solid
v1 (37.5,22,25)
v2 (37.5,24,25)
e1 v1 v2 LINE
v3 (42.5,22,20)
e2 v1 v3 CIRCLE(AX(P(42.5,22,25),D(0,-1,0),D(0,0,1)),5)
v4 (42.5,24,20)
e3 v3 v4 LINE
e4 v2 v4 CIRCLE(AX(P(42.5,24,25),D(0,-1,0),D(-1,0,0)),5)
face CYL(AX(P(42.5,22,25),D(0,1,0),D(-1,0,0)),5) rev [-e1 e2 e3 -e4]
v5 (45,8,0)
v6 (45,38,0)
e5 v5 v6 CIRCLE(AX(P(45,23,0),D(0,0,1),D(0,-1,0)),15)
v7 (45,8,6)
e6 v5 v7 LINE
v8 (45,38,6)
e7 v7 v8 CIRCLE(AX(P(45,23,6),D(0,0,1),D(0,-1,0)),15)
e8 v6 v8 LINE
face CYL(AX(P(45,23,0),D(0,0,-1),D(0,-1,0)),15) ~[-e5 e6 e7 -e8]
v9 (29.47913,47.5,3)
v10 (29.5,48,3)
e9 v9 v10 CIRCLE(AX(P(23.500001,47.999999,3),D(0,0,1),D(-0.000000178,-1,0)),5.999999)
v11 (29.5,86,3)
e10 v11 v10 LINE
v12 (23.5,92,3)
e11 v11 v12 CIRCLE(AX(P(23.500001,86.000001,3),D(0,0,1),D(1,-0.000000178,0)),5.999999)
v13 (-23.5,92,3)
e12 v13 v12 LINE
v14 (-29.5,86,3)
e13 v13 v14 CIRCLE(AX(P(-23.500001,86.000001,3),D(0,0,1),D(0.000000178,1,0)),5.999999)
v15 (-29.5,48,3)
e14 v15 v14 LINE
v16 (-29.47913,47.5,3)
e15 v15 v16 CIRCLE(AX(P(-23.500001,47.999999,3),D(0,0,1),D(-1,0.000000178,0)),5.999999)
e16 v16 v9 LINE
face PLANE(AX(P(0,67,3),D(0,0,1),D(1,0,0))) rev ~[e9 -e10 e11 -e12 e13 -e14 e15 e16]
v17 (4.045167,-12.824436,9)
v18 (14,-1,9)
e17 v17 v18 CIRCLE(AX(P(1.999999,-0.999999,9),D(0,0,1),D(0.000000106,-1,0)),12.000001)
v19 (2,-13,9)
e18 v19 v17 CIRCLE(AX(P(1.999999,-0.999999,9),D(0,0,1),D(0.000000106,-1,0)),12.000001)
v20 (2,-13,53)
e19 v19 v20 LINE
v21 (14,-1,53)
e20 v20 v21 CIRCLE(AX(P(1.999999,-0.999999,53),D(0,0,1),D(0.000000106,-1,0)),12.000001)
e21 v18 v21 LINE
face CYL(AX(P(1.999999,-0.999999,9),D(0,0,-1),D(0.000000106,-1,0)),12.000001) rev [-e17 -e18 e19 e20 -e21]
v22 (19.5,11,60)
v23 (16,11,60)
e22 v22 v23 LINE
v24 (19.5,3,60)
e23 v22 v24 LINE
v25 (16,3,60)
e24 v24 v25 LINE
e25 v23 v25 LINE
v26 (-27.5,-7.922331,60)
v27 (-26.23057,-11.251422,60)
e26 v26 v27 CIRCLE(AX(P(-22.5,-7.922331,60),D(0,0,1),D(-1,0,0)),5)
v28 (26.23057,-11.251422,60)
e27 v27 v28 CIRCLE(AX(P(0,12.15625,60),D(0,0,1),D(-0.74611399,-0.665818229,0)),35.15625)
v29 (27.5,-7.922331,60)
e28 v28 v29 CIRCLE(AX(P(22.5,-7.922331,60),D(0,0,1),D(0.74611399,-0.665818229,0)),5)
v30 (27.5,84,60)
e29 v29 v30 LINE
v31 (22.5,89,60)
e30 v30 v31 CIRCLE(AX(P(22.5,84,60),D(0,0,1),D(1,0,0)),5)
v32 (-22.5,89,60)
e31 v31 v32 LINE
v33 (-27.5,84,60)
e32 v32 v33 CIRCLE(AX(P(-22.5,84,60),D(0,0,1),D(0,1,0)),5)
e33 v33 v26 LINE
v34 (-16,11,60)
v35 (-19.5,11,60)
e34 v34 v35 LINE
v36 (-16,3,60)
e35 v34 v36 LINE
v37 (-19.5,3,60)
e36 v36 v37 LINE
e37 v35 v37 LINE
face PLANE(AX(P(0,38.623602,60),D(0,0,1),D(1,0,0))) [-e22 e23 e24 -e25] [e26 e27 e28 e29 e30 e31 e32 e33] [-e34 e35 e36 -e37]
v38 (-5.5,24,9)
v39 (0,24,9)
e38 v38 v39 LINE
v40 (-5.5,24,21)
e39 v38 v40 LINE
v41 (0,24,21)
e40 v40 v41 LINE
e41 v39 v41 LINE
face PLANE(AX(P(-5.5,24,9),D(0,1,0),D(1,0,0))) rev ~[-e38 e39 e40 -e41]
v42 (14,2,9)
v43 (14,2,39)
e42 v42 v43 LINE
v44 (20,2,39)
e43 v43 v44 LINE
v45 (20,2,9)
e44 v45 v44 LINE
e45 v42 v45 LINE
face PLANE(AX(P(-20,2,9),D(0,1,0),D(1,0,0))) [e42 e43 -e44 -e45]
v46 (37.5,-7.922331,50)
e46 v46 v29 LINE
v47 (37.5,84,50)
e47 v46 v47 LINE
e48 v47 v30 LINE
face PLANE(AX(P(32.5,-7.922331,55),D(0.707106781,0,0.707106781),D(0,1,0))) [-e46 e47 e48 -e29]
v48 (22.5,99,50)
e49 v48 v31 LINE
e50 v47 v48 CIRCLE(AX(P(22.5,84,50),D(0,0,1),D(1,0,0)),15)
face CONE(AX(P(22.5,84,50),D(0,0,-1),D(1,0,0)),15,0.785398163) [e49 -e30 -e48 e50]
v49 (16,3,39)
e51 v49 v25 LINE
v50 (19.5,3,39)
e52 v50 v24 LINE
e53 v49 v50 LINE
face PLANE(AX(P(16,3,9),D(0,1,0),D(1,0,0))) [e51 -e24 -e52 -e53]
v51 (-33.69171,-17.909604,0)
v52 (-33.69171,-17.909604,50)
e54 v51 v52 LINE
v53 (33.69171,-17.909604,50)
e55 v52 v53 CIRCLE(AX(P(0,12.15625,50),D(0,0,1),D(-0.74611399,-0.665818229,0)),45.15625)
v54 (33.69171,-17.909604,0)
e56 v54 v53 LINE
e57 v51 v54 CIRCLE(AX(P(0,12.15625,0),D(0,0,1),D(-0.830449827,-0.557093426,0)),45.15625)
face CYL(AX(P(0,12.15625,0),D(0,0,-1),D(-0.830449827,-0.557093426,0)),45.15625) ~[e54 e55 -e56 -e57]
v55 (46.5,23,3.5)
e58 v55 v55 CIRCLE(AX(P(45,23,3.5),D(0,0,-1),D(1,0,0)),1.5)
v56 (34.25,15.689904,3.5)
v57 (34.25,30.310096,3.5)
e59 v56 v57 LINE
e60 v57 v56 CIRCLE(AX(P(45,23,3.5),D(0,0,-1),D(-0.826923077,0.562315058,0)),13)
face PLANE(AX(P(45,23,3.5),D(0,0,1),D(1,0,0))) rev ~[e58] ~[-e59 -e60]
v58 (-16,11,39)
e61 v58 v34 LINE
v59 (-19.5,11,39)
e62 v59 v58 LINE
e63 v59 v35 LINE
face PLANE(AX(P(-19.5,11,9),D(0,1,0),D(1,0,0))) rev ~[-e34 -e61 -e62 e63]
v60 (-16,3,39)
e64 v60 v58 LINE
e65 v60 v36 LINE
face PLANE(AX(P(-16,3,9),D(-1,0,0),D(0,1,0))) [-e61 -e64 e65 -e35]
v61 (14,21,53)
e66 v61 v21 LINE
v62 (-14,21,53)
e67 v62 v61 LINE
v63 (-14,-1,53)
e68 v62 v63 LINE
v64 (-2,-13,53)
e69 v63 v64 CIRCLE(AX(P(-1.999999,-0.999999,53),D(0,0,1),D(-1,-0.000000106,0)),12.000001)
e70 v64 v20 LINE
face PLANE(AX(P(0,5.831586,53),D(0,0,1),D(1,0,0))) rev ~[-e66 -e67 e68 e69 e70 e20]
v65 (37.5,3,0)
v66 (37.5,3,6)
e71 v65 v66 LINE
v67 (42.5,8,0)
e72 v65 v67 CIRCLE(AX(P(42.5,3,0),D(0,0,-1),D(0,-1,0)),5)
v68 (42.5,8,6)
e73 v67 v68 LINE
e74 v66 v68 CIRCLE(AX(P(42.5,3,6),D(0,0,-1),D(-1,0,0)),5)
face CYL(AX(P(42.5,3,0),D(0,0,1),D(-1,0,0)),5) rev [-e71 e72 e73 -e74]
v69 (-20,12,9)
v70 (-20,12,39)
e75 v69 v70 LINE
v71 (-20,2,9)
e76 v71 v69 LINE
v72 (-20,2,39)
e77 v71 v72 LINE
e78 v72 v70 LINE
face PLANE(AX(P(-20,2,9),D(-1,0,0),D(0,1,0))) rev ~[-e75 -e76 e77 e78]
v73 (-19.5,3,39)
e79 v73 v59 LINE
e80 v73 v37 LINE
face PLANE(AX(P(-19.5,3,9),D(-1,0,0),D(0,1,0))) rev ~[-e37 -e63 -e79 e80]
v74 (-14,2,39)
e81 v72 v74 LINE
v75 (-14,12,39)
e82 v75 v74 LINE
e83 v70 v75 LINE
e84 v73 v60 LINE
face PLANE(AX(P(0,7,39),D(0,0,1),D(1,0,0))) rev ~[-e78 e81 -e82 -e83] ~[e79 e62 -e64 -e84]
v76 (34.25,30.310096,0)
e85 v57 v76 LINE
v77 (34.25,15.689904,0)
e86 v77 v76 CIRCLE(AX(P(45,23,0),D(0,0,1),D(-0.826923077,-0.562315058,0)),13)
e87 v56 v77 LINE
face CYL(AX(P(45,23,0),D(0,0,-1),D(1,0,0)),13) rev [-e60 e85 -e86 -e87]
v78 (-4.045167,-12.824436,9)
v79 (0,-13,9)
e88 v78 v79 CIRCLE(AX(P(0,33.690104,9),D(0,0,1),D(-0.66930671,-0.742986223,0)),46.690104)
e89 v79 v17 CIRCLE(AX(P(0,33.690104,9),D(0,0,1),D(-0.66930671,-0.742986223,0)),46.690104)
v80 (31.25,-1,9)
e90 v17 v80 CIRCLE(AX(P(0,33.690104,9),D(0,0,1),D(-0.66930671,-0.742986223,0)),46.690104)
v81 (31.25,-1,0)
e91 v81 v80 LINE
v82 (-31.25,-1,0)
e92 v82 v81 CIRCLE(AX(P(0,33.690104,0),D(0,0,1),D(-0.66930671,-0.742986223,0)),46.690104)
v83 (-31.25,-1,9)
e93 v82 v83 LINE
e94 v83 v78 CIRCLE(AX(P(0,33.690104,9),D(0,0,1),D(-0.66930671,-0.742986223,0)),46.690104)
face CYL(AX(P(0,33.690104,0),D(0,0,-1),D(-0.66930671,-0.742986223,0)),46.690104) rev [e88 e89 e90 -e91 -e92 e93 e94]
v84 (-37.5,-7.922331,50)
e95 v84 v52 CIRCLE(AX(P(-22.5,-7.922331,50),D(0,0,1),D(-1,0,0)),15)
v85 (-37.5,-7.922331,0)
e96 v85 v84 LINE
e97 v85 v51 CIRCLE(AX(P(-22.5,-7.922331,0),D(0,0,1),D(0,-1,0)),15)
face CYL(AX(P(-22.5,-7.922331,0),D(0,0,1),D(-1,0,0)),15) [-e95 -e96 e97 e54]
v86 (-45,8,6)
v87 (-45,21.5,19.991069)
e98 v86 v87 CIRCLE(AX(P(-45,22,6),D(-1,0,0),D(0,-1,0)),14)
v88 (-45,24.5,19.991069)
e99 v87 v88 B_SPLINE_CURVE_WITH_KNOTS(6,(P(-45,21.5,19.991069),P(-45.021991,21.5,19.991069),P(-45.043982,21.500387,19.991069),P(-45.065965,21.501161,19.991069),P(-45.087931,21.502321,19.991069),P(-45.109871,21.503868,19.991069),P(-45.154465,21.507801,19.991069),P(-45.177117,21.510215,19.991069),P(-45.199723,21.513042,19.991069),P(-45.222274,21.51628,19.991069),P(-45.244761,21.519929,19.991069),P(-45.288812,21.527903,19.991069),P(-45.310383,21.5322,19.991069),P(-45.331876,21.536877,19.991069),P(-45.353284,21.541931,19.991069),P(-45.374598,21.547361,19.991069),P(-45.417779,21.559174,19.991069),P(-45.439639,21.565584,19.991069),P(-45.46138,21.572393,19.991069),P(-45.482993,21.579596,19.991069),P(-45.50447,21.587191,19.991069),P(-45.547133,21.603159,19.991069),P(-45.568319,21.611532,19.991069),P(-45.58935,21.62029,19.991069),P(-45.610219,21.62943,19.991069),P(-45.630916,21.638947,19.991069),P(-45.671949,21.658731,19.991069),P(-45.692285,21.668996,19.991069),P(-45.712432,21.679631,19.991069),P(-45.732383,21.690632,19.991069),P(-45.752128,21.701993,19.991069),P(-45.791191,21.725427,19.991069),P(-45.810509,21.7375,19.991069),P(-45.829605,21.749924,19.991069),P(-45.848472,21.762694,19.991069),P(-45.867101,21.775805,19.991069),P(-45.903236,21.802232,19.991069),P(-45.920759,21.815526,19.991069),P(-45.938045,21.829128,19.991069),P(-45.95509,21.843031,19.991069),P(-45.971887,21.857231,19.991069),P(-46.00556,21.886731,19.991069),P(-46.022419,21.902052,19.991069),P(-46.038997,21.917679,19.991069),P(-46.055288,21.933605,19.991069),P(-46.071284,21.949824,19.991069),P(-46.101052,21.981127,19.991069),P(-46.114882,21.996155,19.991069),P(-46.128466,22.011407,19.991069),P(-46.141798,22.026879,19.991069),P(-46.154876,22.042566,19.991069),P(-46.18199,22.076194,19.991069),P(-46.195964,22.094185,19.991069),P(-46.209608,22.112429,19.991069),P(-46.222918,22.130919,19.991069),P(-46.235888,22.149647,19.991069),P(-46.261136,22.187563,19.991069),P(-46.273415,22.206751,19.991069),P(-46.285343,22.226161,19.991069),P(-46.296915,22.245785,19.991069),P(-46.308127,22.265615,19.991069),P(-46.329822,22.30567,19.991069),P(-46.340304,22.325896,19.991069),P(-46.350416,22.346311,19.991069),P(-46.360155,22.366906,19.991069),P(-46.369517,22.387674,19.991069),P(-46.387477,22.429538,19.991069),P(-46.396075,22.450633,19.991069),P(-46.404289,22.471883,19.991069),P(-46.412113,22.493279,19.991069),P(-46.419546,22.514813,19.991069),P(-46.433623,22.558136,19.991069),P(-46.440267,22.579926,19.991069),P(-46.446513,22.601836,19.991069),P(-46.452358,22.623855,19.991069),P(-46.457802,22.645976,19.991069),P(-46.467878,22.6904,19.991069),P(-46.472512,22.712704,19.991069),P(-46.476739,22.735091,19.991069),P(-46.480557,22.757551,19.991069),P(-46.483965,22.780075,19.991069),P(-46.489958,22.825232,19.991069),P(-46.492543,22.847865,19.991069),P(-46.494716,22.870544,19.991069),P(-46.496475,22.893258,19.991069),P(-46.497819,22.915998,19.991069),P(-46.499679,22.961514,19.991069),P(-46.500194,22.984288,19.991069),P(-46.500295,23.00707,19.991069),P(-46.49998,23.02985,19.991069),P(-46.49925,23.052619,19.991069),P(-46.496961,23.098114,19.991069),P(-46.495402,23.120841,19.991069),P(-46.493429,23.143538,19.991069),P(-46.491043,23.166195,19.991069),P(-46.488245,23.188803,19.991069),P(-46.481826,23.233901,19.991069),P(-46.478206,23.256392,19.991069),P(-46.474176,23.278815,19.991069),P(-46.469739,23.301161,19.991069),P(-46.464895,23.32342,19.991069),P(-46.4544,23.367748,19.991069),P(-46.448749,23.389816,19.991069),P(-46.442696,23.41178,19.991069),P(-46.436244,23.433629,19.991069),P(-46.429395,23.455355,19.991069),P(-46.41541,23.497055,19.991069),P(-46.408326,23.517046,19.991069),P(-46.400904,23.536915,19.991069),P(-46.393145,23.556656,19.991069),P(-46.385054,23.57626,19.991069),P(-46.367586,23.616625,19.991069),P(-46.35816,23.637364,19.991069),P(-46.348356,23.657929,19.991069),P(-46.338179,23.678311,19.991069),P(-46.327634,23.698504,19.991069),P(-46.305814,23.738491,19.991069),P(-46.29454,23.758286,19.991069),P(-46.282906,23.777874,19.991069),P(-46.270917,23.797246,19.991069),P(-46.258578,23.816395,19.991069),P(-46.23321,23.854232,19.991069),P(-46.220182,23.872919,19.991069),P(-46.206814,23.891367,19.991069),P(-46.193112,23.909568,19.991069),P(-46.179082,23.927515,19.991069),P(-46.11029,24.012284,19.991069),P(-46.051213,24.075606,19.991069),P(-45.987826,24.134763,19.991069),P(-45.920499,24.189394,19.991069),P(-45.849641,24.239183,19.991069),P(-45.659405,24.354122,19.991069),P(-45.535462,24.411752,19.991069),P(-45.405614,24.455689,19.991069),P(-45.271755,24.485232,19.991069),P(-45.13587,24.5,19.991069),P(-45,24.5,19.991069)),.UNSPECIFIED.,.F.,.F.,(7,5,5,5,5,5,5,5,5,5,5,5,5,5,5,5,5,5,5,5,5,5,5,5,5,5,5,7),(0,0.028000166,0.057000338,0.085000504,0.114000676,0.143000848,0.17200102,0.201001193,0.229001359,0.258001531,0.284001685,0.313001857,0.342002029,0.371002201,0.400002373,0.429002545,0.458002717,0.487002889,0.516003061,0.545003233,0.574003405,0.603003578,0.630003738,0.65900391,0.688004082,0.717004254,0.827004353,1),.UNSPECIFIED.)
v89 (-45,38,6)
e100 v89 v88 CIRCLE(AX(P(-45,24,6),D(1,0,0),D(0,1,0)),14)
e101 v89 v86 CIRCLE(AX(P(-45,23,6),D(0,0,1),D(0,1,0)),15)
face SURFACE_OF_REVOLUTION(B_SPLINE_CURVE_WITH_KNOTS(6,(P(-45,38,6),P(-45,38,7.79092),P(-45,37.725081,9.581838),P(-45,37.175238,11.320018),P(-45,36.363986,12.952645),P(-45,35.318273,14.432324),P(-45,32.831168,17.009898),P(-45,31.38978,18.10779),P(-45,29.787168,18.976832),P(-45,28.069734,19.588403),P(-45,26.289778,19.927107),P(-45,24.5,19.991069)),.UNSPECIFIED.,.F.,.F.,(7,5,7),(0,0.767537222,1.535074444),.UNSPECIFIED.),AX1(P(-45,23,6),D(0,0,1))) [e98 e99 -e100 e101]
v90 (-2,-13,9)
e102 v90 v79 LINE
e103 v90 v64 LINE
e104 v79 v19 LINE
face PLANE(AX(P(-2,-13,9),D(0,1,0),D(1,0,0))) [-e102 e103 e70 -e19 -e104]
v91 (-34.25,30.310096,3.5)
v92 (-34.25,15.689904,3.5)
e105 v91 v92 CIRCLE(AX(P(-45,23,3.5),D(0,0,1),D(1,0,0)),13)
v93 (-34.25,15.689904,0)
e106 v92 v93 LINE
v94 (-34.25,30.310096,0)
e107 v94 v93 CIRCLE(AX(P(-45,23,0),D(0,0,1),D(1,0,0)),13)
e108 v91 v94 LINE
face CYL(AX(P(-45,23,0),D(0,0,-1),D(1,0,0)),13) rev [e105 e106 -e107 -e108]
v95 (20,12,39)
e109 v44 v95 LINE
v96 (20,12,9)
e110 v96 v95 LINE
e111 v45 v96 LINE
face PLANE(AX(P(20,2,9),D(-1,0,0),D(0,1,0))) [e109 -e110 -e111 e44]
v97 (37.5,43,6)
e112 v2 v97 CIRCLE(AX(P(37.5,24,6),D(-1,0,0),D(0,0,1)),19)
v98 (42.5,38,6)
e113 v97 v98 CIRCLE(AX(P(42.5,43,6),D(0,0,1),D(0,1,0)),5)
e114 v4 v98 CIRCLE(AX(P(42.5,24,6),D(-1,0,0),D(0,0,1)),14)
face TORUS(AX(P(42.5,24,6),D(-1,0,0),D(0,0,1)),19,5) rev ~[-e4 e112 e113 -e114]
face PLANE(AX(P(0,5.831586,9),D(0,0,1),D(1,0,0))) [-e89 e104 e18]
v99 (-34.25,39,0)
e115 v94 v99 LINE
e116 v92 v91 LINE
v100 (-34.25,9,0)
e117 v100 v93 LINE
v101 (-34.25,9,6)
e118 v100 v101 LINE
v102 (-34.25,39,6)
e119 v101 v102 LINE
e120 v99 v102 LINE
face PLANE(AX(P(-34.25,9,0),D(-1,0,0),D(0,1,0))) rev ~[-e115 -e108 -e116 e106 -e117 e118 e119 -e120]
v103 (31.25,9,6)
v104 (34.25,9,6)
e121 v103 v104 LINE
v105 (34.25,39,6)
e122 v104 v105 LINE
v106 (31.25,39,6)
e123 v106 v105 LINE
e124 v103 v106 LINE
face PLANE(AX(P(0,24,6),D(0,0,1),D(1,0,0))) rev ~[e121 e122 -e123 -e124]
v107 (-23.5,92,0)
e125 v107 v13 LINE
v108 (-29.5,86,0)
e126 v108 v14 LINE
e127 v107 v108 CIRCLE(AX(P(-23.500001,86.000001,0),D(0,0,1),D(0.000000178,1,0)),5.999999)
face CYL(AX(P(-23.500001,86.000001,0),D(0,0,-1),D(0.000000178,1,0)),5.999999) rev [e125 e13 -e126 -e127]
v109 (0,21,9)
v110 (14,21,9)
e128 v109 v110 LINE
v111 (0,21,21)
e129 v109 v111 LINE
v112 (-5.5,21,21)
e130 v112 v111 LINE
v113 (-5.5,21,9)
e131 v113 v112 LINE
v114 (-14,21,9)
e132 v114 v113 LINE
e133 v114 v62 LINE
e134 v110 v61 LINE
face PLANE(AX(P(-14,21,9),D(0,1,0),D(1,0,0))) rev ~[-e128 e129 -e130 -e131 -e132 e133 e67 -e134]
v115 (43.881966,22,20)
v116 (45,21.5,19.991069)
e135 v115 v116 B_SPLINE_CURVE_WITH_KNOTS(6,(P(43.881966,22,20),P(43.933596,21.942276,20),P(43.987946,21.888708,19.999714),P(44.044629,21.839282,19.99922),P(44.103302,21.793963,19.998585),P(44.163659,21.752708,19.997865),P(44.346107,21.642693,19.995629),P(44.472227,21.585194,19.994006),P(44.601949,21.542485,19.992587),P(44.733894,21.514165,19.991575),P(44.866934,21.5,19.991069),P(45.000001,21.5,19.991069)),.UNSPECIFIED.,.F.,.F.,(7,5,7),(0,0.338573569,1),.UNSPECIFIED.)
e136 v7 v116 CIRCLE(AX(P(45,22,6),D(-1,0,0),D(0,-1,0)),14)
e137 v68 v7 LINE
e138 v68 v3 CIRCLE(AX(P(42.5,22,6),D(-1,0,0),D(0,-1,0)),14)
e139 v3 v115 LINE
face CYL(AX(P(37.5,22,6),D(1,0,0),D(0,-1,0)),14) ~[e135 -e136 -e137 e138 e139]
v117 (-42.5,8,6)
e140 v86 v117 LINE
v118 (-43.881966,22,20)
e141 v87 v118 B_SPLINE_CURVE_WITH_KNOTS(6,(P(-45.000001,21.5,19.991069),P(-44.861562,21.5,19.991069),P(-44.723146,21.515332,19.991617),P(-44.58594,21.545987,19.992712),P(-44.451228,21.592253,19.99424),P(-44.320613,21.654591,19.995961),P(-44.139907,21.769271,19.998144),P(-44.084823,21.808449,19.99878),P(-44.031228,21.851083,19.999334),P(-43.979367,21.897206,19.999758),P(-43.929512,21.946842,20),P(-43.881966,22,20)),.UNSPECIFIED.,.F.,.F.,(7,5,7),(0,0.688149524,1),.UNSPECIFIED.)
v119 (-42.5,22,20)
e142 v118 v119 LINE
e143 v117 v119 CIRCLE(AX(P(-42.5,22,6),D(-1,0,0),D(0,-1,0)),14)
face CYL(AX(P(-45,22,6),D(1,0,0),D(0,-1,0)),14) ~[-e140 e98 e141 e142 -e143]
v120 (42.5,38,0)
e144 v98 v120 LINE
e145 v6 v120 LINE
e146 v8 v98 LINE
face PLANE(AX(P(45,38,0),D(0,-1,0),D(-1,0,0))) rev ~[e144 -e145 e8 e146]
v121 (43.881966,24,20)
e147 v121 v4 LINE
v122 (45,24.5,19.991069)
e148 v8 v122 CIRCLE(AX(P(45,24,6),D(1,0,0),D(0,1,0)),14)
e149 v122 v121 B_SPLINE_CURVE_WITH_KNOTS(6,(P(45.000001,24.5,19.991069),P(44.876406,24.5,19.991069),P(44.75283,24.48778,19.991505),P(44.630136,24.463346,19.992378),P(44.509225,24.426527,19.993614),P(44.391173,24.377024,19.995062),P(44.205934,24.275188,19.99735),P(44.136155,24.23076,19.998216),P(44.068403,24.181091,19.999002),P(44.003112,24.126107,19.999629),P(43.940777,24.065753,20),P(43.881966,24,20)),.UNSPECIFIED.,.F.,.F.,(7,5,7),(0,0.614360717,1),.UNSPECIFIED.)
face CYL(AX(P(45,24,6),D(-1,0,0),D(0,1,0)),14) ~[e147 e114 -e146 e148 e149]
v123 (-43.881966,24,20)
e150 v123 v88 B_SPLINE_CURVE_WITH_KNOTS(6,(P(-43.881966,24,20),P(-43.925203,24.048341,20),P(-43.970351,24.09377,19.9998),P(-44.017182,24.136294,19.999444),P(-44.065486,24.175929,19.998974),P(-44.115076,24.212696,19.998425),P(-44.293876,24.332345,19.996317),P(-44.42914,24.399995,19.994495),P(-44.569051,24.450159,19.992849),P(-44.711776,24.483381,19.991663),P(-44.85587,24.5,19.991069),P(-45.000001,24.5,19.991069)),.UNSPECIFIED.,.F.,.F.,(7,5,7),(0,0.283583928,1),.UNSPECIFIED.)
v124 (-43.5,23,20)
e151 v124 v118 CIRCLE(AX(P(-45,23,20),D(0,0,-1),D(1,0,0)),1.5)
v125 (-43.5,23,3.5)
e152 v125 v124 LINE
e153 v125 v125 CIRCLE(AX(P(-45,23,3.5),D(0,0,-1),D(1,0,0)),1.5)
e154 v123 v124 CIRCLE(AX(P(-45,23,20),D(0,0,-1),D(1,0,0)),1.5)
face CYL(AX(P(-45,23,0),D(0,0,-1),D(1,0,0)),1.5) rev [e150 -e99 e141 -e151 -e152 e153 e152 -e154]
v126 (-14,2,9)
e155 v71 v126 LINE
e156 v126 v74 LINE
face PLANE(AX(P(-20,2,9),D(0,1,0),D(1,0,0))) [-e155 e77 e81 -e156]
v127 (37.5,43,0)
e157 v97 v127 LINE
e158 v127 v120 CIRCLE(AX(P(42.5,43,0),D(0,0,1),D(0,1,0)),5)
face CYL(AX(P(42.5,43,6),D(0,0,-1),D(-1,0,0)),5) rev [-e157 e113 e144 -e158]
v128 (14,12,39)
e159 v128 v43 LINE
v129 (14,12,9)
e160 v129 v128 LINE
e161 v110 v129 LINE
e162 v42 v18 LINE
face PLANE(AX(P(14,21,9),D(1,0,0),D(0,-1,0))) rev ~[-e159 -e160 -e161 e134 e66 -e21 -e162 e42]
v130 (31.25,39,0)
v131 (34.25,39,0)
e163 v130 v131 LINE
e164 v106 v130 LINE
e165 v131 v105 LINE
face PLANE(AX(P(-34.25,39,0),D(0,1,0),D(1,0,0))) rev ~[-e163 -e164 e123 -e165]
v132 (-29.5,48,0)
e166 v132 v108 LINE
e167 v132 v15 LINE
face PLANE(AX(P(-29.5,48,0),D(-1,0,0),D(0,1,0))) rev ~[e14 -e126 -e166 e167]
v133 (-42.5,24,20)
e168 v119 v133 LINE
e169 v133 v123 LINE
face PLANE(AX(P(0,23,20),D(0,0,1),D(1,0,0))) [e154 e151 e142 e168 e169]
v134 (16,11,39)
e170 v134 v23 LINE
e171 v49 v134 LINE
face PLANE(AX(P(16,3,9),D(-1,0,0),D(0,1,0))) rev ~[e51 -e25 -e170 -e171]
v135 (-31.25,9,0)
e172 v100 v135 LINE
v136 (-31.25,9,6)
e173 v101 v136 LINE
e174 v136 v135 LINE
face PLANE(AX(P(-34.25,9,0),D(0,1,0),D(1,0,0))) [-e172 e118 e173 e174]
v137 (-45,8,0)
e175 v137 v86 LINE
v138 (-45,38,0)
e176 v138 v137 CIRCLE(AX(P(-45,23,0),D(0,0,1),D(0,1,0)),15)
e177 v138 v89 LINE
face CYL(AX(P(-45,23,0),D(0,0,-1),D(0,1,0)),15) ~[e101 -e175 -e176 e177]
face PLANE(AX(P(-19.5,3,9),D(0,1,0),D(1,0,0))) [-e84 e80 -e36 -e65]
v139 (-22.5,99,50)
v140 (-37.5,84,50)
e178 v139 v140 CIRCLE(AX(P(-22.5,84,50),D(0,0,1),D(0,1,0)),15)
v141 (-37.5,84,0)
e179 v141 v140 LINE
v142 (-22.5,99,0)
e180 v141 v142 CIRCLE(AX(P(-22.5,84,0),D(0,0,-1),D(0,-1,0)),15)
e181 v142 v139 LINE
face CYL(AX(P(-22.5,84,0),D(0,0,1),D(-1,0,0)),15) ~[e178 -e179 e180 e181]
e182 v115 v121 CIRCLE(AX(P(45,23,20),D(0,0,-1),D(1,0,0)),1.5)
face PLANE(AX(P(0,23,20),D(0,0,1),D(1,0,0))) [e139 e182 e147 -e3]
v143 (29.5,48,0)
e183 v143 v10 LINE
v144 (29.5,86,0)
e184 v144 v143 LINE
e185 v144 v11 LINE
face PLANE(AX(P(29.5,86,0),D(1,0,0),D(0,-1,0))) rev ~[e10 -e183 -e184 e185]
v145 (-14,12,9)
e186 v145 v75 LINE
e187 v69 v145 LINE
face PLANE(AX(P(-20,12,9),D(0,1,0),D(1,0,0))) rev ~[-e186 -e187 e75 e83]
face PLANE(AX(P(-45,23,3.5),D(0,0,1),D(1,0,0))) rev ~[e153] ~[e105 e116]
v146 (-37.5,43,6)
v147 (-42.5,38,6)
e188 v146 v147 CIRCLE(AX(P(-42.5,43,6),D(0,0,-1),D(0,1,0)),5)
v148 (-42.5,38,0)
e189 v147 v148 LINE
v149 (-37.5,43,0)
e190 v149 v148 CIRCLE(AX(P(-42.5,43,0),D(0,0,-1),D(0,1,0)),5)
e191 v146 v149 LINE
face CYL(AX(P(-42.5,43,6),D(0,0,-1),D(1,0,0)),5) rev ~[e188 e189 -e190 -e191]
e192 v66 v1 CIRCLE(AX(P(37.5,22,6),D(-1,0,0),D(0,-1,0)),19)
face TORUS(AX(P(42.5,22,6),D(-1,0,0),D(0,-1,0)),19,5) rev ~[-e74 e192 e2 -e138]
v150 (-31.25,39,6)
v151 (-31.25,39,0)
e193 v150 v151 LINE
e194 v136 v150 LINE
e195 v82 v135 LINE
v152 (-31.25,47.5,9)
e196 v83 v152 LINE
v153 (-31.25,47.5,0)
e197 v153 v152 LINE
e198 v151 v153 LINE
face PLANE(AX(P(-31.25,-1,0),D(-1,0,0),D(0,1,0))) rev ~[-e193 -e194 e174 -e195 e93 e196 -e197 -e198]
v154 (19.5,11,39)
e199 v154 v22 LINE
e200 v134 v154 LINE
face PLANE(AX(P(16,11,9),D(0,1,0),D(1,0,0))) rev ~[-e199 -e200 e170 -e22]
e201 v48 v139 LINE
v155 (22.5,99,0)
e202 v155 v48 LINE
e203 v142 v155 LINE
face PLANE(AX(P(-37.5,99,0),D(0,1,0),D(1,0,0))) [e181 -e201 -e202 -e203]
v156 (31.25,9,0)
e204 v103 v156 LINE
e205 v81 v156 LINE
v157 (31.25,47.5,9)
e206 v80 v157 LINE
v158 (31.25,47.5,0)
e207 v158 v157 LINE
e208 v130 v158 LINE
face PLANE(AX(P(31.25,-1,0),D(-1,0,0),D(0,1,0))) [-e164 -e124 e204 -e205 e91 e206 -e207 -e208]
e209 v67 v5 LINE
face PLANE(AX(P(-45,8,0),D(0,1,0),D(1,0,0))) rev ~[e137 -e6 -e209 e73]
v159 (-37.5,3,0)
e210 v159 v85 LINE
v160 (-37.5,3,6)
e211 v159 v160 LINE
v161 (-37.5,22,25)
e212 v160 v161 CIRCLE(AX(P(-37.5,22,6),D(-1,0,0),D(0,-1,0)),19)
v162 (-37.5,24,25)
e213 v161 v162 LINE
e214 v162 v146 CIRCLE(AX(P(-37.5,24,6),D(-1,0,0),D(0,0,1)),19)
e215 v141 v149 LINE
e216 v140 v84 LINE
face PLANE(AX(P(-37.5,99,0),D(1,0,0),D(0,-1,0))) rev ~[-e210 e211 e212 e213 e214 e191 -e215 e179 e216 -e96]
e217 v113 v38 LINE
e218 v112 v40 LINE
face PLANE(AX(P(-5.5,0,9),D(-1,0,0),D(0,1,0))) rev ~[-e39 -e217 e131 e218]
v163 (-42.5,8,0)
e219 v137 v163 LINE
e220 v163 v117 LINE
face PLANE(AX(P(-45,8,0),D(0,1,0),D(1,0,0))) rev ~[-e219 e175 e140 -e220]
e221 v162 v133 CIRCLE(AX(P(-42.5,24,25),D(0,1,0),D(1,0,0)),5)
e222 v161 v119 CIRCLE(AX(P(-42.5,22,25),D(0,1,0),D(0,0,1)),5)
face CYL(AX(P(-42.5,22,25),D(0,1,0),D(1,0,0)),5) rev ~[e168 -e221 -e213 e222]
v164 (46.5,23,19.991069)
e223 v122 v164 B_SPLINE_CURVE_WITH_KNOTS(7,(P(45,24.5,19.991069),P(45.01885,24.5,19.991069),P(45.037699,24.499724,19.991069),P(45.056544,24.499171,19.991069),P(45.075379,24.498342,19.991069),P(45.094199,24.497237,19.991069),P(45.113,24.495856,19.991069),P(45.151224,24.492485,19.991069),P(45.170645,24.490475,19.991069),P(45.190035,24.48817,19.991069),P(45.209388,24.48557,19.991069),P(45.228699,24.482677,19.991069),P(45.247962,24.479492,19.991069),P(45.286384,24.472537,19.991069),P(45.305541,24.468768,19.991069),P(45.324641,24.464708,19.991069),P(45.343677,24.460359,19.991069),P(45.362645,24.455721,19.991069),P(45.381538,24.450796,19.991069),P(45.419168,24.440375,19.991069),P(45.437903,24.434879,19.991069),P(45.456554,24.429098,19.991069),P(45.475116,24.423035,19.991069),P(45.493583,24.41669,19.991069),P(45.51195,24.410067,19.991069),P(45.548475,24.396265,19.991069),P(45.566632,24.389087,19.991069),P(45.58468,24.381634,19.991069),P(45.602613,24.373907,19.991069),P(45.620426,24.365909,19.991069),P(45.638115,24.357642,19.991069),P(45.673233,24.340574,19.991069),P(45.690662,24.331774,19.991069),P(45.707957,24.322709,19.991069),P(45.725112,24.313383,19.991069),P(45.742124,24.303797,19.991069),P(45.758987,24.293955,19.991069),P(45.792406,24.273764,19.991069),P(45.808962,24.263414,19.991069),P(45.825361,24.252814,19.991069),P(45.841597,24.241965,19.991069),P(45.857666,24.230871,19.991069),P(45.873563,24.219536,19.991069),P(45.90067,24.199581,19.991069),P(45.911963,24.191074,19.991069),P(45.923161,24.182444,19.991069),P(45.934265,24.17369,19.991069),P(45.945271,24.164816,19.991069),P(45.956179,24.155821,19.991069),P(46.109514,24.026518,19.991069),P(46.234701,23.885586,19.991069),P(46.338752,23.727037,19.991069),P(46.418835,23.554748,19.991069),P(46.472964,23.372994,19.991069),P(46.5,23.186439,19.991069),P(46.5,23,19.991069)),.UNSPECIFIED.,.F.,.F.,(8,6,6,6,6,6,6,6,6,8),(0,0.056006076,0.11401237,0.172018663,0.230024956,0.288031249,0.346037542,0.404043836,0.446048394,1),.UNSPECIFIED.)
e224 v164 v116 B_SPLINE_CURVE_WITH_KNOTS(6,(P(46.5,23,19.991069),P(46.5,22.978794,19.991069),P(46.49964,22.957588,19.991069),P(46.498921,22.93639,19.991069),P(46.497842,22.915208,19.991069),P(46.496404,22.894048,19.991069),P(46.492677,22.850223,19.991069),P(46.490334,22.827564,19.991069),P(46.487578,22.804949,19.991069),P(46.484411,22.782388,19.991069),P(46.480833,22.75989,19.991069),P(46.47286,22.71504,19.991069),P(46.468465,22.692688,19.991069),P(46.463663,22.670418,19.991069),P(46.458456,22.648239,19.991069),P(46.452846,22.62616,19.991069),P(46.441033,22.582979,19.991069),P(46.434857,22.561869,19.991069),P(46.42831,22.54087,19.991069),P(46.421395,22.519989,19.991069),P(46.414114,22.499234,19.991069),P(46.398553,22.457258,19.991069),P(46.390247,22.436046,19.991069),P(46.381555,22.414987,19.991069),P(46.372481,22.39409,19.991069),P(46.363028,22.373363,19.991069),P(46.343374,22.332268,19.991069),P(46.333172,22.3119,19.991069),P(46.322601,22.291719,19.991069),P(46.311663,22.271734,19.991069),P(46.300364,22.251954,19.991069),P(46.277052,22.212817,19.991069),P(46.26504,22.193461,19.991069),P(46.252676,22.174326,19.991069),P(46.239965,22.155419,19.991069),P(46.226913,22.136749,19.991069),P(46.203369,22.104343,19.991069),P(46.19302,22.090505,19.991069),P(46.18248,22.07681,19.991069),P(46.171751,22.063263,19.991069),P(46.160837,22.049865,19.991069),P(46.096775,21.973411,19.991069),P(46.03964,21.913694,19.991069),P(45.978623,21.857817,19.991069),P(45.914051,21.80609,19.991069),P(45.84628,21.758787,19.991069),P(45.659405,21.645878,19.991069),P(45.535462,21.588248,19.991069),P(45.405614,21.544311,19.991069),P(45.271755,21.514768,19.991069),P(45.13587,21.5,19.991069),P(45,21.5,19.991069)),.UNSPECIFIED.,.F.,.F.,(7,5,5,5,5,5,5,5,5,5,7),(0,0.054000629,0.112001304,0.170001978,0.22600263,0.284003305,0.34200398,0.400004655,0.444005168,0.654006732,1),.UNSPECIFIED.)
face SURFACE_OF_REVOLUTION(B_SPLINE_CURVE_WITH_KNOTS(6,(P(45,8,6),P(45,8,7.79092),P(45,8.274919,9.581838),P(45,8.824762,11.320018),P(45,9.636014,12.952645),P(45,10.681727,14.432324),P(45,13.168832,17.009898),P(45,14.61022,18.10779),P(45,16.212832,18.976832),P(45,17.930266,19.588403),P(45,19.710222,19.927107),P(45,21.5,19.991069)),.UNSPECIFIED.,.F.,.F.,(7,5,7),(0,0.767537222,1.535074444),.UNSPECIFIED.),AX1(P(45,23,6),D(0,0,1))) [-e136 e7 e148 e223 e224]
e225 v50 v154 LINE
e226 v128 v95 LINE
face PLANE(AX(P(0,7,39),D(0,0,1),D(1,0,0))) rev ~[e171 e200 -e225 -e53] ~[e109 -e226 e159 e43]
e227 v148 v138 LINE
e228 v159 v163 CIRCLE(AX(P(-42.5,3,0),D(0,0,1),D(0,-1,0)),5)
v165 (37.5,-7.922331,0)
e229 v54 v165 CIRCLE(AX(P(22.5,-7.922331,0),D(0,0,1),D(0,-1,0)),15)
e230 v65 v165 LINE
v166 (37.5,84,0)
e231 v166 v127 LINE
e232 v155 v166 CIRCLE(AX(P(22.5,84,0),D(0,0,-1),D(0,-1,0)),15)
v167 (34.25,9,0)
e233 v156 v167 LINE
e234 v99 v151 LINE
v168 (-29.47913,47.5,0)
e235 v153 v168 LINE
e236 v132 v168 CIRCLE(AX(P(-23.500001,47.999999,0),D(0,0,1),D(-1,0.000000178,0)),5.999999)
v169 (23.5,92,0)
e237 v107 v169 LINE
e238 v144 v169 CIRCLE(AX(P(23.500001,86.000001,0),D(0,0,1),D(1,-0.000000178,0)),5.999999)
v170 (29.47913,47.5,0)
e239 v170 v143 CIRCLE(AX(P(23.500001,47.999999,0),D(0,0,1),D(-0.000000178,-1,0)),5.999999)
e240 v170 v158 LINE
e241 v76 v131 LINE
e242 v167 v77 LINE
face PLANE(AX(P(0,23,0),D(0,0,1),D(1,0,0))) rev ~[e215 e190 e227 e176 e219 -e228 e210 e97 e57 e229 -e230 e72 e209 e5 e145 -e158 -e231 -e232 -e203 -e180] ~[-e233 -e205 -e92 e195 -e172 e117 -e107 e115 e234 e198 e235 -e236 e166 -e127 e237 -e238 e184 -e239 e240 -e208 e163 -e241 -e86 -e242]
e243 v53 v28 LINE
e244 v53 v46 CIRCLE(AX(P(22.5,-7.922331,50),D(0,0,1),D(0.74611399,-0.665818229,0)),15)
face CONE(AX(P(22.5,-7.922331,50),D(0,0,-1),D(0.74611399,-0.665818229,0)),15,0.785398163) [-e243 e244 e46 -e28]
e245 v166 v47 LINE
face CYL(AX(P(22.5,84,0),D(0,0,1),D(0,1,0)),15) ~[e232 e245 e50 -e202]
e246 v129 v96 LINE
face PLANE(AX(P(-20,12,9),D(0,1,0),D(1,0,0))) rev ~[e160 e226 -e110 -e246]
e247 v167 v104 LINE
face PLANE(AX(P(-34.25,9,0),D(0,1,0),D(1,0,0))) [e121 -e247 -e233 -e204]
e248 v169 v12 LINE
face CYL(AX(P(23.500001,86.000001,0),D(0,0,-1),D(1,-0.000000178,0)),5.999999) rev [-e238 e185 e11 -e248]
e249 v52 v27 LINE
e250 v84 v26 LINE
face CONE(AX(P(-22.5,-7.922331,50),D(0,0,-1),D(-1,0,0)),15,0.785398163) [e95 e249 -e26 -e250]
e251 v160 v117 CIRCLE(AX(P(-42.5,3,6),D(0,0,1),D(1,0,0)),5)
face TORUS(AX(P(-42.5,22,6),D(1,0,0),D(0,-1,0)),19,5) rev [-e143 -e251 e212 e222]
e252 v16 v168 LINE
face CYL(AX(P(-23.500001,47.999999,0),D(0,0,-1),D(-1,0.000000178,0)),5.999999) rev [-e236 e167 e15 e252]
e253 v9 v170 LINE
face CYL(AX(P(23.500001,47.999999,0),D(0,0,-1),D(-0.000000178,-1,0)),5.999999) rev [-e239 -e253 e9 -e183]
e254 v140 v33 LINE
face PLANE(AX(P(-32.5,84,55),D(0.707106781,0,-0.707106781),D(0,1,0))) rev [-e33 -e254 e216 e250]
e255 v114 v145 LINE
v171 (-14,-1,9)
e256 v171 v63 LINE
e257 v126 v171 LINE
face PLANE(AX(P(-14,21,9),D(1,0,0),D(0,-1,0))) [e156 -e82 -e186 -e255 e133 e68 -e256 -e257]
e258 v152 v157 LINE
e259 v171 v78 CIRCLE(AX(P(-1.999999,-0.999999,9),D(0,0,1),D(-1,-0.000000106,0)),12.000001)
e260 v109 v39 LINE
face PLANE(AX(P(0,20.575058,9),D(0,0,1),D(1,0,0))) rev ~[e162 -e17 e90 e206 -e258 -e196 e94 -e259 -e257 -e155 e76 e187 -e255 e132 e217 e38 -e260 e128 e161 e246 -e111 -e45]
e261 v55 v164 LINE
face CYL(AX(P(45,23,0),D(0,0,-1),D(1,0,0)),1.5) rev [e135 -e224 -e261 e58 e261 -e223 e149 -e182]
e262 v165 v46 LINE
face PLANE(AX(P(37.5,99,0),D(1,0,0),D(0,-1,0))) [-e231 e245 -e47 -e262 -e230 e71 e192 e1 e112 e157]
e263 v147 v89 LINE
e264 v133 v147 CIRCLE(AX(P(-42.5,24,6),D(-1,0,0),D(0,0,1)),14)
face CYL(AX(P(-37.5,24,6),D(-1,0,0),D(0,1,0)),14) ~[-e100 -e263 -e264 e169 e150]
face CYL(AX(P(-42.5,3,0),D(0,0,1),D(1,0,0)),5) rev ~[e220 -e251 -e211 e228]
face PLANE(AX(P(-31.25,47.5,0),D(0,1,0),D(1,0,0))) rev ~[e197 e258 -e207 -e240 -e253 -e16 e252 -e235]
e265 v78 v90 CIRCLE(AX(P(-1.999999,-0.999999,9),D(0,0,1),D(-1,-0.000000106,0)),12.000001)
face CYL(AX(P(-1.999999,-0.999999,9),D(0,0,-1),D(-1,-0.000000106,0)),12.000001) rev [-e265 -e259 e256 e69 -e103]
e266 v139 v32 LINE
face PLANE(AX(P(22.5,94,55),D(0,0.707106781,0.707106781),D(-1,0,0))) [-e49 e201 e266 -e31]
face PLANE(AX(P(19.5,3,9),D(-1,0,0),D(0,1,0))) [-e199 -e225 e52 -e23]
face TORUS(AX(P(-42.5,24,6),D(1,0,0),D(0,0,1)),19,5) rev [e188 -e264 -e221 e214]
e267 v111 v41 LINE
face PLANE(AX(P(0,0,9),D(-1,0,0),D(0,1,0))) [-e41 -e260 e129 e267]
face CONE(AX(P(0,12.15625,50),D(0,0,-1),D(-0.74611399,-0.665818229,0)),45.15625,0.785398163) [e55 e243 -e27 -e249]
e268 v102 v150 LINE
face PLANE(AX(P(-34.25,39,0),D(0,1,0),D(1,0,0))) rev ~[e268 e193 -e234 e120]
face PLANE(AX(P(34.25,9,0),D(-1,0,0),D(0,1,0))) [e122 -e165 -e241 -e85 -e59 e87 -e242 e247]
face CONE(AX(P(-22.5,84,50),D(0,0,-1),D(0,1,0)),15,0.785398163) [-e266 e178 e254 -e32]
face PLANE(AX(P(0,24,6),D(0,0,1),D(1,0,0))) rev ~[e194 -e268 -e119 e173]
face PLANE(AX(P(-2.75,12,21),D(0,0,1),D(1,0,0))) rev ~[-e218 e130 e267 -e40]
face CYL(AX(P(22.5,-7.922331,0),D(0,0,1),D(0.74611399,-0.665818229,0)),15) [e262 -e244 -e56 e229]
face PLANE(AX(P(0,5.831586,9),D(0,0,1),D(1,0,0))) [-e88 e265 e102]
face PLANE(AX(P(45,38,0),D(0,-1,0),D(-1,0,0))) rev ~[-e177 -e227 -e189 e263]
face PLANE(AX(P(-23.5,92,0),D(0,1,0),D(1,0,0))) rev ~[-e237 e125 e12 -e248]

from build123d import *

# Parameters (mm, degrees)
SKETCH007_R      = 1.5
EXTRUDE012_DEPTH = 75
SKETCH008_R      = 13
EXTRUDE014_DEPTH = 3.5
EXTRUDE002_DEPTH = 44
SKETCH002_W      = 3.5
SKETCH002_H      = 8
EXTRUDE003_DEPTH = 75
SKETCH003_W      = 40
SKETCH003_H      = 10
EXTRUDE005_DEPTH = 30
SKETCH004_W      = 68.5
SKETCH004_H      = 30
EXTRUDE006_DEPTH = 6
SKETCH005_W      = 5.5
SKETCH005_H      = 24
EXTRUDE008_DEPTH = 12
EXTRUDE009_DEPTH = 3
EXTRUDE010_DEPTH = 3
EXTRUDE_DEPTH    = 9
EXTRUDE017_DEPTH = 20
EXTRUDE015_DEPTH = 60
FILLET_R         = 15
FILLET001_R      = 14
FILLET002_R      = 5
CHAMFER_SIZE     = 10


with BuildPart() as extrude012:
    # Sketch007 → Extrude012 (new body)
    with BuildSketch(Plane.XY):
        with Locations((-45, 23)):
            Circle(SKETCH007_R)
        with Locations((45, 23)):
            Circle(SKETCH007_R)
    extrude(amount=EXTRUDE012_DEPTH)


with BuildPart() as extrude014:
    # Sketch008 → Extrude014 (new body)
    with BuildSketch(Plane.XY):
        with Locations((-45, 23)):
            Circle(SKETCH008_R)
        with Locations((45, 23)):
            Circle(SKETCH008_R)
    extrude(amount=EXTRUDE014_DEPTH)


with BuildPart() as extrude002:
    # Sketch001 (on Face6 of Extrude) → Extrude002 (new body)
    with BuildSketch(Plane.XY.offset(9)):
        with BuildLine():
            Line((-14, 21), (-14, -1))
            ThreePointArc((-14, -1), (-10.485281, -9.485281), (-2, -13))
            Line((-2, -13), (2, -13))
            ThreePointArc((2, -13), (10.485281, -9.485281), (14, -1))
            Line((14, 21), (14, -1))
            Line((-14, 21), (14, 21))
        make_face()
    extrude(amount=EXTRUDE002_DEPTH)


with BuildPart() as extrude003:
    # Sketch002 (on Face6 of Extrude) → Extrude003 (new body)
    with BuildSketch(Plane.XY.offset(9)):
        with Locations((-17.75, 7)):
            Rectangle(SKETCH002_W, SKETCH002_H)
        with Locations((17.75, 7)):
            Rectangle(SKETCH002_W, SKETCH002_H)
    extrude(amount=EXTRUDE003_DEPTH)


with BuildPart() as extrude005:
    # Sketch003 (on Face6 of Extrude) → Extrude005 (new body)
    with BuildSketch(Plane.XY.offset(9)):
        with Locations((0, 7)):
            Rectangle(SKETCH003_W, SKETCH003_H)
    extrude(amount=EXTRUDE005_DEPTH)


with BuildPart() as extrude006:
    # Sketch004 → Extrude006 (new body)
    with BuildSketch(Plane.XY):
        with Locations((0, 24)):
            Rectangle(SKETCH004_W, SKETCH004_H)
    extrude(amount=EXTRUDE006_DEPTH)


with BuildPart() as extrude008:
    # Sketch005 (on Face6 of Extrude) → Extrude008 (new body)
    with BuildSketch(Plane.XY.offset(9)):
        with Locations((-2.75, 12)):
            Rectangle(SKETCH005_W, SKETCH005_H)
    extrude(amount=EXTRUDE008_DEPTH)


with BuildPart() as extrude009:
    # Sketch006 → Extrude009 (new body)
    with BuildSketch(Plane.XY):
        with BuildLine():
            ThreePointArc((-23.5, 92), (-27.742641, 90.242641), (-29.5, 86))
            Line((-29.5, 48), (-29.5, 86))
            ThreePointArc((-29.5, 48), (-27.742641, 43.757359), (-23.5, 42))
            Line((23.5, 42), (-23.5, 42))
            ThreePointArc((23.5, 42), (27.742641, 43.757359), (29.5, 48))
            Line((29.5, 86), (29.5, 48))
            ThreePointArc((29.5, 86), (27.742641, 90.242641), (23.5, 92))
            Line((-23.5, 92), (23.5, 92))
        make_face()
    extrude(amount=EXTRUDE009_DEPTH)


with BuildPart() as extrude010:
    # Sketch006 → Extrude010 (new body)
    with BuildSketch(Plane.XY):
        with BuildLine():
            ThreePointArc((-23.5, 92), (-27.742641, 90.242641), (-29.5, 86))
            Line((-29.5, 48), (-29.5, 86))
            ThreePointArc((-29.5, 48), (-27.742641, 43.757359), (-23.5, 42))
            Line((23.5, 42), (-23.5, 42))
            ThreePointArc((23.5, 42), (27.742641, 43.757359), (29.5, 48))
            Line((29.5, 86), (29.5, 48))
            ThreePointArc((29.5, 86), (27.742641, 90.242641), (23.5, 92))
            Line((-23.5, 92), (23.5, 92))
        make_face()
    extrude(amount=EXTRUDE010_DEPTH)


with BuildPart() as fusion001:
    # Sketch → Extrude (new body)
    with BuildSketch(Plane.XY):
        with BuildLine():
            ThreePointArc((-31.25, -1), (0, -13), (31.25, -1))
            Line((31.25, -1), (31.25, 47.5))
            Line((-31.25, 47.5), (31.25, 47.5))
            Line((-31.25, -1), (-31.25, 47.5))
        make_face()
    extrude(amount=EXTRUDE_DEPTH)

    # Fusion: union Extrude002, Extrude003, Extrude005, Extrude006, Extrude008, Extrude009, Extrude010
    add(extrude002.part)
    add(extrude003.part)
    add(extrude005.part)
    add(extrude006.part)
    add(extrude008.part)
    add(extrude009.part)
    add(extrude010.part)

    # Fusion001: union Extrude012, Extrude014
    add(extrude012.part)
    add(extrude014.part)


with BuildPart() as extrude017:
    # Sketch010 → Extrude017 (new body)
    with BuildSketch(Plane.XY):
        with BuildLine():
            ThreePointArc((-45, 38), (-60, 23), (-45, 8))
            Line((-45, 8), (45, 8))
            ThreePointArc((45, 8), (60, 23), (45, 38))
            Line((45, 38), (-45, 38))
        make_face()
    extrude(amount=EXTRUDE017_DEPTH)


with BuildPart() as cut:
    # Sketch009 → Extrude015 (new body)
    with BuildSketch(Plane.XY):
        with BuildLine():
            Line((-37.5, 99), (-37.5, -13))
            ThreePointArc((-37.5, -13), (0, -33), (37.5, -13))
            Line((37.5, 99), (37.5, -13))
            Line((-37.5, 99), (37.5, 99))
        make_face()
    extrude(amount=EXTRUDE015_DEPTH)

    # Fusion002: union Extrude017
    add(extrude017.part)

    # Fillet
    fillet_edges = [cut.edges().sort_by_distance(p)[0] for p in [
        (-37.5, -13, 30),
        (-37.5, 99, 30),
        (37.5, -13, 30),
        (37.5, 99, 30),
    ]]
    fillet(fillet_edges, radius=FILLET_R)

    # Fillet001
    fillet001_edges = [cut.edges().sort_by_distance(p)[0] for p in [
        (-41.25, 38, 20),
        (-41.25, 8, 20),
        (-60, 23, 20),
        (41.25, 38, 20),
        (60, 23, 20),
        (41.25, 8, 20),
    ]]
    fillet(fillet001_edges, radius=FILLET001_R)

    # Fillet002
    fillet002_edges = [cut.edges().sort_by_distance(p)[0] for p in [
        (-37.5, 8, 3),
        (-37.5, 12.100505, 15.899495),
        (-37.5, 23, 20),
        (-37.5, 33.899495, 15.899495),
        (-37.5, 38, 3),
        (37.5, 8, 3),
        (37.5, 12.100505, 15.899495),
        (37.5, 23, 20),
        (37.5, 33.899495, 15.899495),
        (37.5, 38, 3),
    ]]
    fillet(fillet002_edges, radius=FILLET002_R)

    # Chamfer
    chamfer_edges = [cut.edges().sort_by_distance(p)[0] for p in [
        (-37.5, 38.038835, 60),
        (-33.106602, 94.606602, 60),
        (-36.515628, -13.26669, 60),
        (0, -33, 60),
        (36.515628, -13.26669, 60),
        (37.5, 38.038835, 60),
        (33.106602, 94.606602, 60),
        (0, 99, 60),
    ]]
    chamfer(chamfer_edges, length=CHAMFER_SIZE)

    # Cut: cut Fusion001
    add(fusion001.part, mode=Mode.SUBTRACT)


solid = cut.part
